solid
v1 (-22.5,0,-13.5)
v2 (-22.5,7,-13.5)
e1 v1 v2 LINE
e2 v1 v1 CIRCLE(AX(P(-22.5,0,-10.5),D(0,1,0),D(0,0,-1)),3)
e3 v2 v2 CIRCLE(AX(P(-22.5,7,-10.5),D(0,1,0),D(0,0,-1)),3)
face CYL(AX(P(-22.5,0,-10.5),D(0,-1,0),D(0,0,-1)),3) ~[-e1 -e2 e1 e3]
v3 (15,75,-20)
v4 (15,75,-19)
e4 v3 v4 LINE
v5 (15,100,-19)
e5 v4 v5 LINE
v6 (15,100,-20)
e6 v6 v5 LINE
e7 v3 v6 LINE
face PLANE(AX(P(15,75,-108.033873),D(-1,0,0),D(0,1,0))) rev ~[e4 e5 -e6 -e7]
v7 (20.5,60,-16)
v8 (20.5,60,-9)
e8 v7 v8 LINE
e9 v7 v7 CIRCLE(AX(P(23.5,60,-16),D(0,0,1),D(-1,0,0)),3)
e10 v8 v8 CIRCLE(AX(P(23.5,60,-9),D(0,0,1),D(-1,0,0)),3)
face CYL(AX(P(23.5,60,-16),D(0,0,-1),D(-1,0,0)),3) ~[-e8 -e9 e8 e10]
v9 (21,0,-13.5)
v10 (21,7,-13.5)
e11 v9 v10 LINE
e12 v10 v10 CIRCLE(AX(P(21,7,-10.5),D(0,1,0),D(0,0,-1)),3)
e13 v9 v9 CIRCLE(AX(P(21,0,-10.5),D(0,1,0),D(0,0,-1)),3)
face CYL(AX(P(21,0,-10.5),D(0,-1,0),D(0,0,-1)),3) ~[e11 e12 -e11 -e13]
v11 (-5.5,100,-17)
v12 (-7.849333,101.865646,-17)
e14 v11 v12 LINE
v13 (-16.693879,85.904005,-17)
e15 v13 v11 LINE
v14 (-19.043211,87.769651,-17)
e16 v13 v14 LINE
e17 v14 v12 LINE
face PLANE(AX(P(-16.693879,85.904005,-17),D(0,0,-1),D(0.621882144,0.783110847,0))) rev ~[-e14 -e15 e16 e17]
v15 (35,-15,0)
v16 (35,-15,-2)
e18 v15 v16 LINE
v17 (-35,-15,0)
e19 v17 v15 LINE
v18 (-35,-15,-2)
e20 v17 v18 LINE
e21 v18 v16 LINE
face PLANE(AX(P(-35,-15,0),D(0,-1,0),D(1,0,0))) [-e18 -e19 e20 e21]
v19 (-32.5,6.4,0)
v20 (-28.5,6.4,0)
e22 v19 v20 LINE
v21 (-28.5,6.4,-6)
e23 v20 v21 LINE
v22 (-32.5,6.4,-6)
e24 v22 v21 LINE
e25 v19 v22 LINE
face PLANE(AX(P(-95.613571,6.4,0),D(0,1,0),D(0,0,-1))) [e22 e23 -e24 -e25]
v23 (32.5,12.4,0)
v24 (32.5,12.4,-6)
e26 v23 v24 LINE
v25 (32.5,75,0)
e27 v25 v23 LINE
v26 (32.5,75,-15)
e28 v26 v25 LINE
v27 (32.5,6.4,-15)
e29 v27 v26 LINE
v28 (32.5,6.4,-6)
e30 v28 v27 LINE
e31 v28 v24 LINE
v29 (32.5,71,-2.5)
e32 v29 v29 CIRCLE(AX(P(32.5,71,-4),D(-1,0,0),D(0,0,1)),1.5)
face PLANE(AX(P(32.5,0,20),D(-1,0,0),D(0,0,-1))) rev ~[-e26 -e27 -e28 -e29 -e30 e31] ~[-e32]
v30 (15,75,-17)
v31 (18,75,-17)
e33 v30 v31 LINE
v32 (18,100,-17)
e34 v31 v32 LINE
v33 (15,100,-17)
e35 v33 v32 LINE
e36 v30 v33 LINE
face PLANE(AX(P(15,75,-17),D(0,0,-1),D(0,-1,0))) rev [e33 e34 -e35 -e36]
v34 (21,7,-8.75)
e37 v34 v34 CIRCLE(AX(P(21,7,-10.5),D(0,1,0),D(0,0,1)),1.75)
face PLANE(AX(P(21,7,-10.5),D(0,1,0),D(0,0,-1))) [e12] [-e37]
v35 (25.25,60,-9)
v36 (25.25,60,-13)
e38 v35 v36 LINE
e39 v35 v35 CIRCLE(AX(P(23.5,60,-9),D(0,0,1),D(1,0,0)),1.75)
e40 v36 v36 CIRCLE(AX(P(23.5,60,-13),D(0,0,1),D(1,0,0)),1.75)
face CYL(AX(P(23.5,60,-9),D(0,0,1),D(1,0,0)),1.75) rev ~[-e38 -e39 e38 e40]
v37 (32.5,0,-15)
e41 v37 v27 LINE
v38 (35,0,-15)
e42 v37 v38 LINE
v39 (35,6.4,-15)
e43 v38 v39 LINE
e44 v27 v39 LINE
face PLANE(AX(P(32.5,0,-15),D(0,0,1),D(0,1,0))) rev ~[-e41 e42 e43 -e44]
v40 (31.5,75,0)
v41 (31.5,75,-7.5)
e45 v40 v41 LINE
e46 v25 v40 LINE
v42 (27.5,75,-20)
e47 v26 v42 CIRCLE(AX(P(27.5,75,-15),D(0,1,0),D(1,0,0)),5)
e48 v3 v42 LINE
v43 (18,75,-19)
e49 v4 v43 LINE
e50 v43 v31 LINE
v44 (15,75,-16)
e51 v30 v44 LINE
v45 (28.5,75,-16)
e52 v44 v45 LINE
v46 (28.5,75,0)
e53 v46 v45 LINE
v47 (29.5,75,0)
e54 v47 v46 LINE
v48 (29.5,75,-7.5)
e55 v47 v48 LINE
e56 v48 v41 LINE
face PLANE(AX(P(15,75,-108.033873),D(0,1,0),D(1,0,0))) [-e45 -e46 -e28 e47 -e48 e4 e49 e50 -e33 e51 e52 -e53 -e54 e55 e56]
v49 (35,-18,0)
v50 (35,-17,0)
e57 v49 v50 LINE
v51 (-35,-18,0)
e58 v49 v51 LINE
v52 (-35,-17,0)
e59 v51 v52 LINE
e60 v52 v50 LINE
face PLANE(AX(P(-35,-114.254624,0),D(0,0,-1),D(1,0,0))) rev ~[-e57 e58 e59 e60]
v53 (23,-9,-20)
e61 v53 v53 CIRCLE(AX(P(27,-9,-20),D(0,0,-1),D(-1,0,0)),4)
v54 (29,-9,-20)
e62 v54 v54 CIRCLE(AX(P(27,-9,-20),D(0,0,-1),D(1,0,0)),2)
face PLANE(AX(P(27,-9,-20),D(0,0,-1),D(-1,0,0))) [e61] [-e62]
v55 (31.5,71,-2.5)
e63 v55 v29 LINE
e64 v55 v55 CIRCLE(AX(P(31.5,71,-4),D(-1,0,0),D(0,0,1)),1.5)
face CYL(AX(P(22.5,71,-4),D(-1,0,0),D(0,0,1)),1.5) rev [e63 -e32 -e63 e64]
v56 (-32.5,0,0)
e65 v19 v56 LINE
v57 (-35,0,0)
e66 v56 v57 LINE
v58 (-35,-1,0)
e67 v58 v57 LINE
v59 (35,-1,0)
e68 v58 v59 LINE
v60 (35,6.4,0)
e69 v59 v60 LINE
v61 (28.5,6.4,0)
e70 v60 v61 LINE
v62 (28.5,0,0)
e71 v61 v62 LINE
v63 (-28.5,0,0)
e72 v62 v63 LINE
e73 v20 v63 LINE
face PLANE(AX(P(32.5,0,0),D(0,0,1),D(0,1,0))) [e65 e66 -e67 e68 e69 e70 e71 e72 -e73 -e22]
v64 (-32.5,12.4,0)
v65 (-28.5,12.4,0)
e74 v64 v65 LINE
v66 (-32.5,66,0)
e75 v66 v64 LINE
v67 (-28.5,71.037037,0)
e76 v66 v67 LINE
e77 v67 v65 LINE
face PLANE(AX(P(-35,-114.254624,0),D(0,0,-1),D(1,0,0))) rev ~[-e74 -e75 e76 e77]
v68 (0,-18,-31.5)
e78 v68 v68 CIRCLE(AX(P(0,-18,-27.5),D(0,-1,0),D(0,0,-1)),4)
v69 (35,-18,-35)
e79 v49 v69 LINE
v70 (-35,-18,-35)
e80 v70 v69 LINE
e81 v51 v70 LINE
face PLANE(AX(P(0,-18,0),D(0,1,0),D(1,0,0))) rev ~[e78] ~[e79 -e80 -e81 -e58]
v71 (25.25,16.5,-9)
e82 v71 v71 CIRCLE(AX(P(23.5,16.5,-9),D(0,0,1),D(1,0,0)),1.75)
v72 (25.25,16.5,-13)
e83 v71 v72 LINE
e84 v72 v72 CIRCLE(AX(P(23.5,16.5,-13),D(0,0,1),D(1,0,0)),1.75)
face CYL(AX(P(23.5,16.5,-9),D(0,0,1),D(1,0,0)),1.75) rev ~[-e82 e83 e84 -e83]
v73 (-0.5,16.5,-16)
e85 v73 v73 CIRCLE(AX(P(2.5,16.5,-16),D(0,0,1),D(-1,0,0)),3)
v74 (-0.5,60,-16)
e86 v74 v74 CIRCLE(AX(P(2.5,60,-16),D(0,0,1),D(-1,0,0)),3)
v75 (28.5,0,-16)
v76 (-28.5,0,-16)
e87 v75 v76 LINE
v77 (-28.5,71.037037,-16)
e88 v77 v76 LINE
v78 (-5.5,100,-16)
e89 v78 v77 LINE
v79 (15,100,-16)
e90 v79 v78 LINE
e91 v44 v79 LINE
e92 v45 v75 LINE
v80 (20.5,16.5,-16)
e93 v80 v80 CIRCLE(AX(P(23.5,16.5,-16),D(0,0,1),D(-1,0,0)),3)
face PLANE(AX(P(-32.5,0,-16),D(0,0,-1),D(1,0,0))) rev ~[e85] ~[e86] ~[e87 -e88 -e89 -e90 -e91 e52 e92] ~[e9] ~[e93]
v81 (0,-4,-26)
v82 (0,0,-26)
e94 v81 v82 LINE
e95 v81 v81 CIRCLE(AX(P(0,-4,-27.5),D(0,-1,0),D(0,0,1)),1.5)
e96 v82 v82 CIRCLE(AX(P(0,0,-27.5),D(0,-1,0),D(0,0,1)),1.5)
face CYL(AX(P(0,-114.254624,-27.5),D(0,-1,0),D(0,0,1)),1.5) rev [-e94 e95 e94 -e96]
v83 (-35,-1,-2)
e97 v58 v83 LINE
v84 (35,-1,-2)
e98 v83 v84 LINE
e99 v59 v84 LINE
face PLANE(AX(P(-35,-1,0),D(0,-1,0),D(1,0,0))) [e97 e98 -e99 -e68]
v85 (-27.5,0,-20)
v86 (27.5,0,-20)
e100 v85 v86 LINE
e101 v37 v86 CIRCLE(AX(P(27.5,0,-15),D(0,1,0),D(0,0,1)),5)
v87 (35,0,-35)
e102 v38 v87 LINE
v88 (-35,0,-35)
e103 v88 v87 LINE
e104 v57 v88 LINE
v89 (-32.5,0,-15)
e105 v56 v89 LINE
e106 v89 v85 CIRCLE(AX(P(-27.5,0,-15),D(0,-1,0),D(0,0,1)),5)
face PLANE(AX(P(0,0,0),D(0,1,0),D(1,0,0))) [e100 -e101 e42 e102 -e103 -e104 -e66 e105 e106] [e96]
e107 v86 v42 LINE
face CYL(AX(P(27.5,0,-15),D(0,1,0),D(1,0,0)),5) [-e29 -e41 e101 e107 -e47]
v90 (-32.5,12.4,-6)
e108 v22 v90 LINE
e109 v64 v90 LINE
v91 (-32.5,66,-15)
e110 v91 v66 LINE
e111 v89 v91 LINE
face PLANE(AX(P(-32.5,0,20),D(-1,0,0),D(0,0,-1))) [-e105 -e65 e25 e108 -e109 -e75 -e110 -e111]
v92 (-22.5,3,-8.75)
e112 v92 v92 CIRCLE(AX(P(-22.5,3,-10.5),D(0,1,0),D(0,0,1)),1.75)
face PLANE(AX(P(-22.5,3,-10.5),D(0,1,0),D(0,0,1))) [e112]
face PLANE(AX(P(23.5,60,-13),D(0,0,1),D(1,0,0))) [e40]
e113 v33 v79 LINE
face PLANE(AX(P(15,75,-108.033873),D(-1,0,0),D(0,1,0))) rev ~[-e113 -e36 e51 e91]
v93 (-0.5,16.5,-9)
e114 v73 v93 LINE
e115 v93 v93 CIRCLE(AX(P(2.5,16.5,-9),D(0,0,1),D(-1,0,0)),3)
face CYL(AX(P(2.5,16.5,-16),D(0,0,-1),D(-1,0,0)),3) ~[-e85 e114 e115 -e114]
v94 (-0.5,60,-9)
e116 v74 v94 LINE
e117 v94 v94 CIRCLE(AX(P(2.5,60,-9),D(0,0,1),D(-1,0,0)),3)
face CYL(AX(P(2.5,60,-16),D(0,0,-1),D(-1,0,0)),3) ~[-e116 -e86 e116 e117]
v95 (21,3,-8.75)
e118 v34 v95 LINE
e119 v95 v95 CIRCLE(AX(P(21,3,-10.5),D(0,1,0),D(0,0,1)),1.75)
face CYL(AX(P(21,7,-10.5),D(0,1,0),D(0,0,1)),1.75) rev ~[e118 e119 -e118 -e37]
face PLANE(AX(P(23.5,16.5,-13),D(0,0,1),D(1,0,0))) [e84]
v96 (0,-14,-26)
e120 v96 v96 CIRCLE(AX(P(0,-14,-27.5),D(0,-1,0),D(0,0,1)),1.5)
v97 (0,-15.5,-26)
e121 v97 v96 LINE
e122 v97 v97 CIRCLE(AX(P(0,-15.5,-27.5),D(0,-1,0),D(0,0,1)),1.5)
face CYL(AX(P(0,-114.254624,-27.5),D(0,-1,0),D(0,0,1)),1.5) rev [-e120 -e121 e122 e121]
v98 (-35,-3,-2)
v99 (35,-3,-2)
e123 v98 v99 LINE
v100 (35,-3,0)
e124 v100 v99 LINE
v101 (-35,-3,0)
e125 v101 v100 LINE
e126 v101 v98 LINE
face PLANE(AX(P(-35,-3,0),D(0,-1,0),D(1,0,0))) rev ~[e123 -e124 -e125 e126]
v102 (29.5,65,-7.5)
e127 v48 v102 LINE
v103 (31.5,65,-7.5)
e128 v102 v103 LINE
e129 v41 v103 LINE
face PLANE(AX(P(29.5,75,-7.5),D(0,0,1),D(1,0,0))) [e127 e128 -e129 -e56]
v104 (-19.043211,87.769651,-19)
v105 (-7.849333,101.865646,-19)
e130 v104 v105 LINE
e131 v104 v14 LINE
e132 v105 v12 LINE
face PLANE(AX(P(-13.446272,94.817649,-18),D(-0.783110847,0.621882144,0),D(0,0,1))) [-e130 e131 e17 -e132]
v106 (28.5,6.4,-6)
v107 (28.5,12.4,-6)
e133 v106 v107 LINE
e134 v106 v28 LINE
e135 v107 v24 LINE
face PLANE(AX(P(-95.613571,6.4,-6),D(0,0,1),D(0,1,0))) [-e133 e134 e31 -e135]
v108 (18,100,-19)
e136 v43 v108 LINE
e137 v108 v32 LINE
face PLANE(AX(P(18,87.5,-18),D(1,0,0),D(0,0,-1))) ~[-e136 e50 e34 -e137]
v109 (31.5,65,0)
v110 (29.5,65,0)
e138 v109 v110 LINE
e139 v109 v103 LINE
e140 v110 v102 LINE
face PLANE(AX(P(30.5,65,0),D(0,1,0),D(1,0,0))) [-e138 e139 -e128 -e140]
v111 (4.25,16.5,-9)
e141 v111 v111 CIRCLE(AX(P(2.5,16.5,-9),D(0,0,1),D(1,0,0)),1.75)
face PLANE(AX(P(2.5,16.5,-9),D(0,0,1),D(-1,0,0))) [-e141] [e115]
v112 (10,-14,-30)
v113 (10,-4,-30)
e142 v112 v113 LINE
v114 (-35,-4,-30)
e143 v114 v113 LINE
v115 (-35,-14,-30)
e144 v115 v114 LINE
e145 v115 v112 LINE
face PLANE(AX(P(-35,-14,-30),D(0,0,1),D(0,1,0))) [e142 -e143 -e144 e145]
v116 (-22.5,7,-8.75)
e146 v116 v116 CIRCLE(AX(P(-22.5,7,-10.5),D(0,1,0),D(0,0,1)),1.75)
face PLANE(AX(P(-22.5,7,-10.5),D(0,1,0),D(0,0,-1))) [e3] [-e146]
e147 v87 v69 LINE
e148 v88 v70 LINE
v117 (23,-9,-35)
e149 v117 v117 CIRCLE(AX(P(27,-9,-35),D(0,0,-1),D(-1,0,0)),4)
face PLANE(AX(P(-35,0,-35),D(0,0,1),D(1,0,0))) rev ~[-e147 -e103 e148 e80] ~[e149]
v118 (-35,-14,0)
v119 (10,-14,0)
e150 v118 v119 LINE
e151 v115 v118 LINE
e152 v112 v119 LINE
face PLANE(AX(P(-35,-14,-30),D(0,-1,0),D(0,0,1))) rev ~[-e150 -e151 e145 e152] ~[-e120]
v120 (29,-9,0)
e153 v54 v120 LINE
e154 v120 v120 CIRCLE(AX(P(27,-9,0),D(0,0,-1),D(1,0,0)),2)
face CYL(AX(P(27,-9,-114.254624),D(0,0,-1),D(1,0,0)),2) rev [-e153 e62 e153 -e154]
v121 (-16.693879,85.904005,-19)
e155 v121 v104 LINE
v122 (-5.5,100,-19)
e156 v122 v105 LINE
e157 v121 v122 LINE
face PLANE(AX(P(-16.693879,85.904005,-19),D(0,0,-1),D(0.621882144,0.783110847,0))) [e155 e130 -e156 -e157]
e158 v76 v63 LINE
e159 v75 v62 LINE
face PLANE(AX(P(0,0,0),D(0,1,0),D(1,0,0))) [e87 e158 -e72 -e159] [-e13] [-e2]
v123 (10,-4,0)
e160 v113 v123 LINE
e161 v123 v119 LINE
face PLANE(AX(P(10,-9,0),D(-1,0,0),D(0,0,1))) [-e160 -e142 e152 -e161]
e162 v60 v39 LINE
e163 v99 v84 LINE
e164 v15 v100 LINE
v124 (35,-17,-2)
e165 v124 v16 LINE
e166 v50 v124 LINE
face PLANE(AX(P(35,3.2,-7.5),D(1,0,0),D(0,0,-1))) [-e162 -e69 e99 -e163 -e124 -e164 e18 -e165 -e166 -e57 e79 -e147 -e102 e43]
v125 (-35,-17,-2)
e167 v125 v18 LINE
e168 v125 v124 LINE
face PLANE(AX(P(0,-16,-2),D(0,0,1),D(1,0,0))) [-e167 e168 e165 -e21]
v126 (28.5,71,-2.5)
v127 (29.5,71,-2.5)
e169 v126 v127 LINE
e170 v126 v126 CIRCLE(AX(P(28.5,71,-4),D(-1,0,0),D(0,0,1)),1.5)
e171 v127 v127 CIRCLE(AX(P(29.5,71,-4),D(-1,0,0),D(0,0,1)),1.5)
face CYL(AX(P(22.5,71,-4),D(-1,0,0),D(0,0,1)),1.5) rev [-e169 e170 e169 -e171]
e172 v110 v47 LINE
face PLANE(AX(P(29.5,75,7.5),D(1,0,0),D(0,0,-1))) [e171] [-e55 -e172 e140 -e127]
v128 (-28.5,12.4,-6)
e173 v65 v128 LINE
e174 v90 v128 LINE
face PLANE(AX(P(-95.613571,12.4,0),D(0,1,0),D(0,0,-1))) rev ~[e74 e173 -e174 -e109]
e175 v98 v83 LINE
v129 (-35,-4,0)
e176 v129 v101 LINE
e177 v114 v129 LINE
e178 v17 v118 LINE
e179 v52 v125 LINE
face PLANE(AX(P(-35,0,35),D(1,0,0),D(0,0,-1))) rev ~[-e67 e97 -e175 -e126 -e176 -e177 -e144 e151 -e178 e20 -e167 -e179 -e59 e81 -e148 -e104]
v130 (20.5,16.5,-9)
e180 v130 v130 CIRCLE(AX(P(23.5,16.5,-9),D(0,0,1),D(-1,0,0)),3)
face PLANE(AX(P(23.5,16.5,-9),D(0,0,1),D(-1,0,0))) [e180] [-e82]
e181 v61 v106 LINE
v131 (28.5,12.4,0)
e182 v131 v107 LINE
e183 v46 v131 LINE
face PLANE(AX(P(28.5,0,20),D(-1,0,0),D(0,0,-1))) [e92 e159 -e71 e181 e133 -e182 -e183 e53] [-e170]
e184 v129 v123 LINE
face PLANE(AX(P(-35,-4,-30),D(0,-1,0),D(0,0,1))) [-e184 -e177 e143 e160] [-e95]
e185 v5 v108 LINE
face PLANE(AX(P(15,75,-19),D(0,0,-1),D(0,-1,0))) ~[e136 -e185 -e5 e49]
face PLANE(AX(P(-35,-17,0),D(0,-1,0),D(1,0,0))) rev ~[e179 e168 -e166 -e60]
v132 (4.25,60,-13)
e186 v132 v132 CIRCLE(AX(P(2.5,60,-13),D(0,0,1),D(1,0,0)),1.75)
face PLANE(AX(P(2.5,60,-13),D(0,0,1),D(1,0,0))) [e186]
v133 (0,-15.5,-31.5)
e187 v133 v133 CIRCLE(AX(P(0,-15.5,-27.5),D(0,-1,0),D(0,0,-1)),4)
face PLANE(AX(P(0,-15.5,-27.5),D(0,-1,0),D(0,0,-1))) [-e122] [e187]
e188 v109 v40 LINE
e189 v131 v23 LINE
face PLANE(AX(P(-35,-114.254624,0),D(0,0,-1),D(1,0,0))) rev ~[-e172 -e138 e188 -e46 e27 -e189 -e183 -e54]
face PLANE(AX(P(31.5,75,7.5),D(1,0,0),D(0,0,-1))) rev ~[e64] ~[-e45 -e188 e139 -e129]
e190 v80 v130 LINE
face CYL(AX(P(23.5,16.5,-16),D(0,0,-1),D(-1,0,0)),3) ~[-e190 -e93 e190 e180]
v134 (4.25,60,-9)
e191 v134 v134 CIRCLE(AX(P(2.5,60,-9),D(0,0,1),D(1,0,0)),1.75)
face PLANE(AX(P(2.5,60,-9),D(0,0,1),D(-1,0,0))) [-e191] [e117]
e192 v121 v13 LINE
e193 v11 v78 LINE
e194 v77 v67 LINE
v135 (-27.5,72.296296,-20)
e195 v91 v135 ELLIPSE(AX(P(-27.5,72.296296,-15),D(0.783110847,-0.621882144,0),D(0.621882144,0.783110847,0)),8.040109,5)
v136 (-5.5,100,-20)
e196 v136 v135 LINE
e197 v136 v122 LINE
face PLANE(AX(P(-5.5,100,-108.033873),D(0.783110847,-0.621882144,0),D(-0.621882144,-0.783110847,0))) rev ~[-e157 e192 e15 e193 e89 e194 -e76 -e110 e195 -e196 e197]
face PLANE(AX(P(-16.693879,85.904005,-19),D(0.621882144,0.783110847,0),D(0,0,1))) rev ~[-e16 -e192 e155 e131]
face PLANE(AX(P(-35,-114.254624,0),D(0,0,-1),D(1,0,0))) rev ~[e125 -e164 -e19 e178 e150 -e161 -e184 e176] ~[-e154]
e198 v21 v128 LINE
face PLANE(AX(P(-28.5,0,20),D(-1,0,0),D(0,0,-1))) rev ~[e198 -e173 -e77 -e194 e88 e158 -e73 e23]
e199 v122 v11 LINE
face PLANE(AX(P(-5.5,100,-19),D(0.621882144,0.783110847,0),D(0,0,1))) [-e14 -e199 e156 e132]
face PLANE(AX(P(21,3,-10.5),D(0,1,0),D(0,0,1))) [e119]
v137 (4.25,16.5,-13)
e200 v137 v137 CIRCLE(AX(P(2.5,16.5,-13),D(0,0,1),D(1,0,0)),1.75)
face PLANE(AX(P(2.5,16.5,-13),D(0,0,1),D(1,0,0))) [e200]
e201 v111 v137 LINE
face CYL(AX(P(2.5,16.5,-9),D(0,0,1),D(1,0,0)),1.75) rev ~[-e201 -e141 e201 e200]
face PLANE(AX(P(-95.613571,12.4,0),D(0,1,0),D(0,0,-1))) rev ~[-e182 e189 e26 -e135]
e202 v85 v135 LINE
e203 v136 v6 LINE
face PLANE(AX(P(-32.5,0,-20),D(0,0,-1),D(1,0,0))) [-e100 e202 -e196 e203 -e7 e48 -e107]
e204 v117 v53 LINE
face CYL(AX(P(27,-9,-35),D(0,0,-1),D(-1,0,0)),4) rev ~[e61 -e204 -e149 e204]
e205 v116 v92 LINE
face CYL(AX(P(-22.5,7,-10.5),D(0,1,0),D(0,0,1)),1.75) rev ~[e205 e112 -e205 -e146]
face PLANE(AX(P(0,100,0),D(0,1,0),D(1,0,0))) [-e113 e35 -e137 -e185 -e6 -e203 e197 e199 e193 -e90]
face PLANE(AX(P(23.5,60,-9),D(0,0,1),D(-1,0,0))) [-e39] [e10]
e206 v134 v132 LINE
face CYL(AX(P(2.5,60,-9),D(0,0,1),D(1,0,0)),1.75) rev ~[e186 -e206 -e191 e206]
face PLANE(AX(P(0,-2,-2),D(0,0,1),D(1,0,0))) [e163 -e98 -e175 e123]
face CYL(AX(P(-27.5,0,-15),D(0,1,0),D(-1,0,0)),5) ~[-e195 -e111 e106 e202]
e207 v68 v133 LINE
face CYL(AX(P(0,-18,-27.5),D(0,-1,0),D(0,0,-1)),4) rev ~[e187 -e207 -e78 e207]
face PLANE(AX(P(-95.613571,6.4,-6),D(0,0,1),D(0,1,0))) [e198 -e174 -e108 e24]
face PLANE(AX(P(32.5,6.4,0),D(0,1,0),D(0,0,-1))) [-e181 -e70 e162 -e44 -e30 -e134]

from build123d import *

# Parameters (mm, degrees)
SKETCH1_W                 = 65
SKETCH1_H                 = 40
BOSS_EXTRUDE1_DEPTH       = 100
SHELL1_T                  = -4
FILLET1_R                 = 5
CUT_EXTRUDE1_DEPTH        = 108.033873143
CUT_EXTRUDE1_DEPTH_BACK   = 108.033873143
CUT_EXTRUDE2_DEPTH        = 108.033873143
CUT_EXTRUDE2_DEPTH_BACK   = 108.033873143
SKETCH3_W                 = 17.5
SKETCH3_H                 = 25
SKETCH5_W                 = 2
SKETCH5_H                 = 25
BOSS_EXTRUDE2_DEPTH       = 3
SKETCH6_W                 = 2
SKETCH6_H                 = 18
BOSS_EXTRUDE3_DEPTH       = 3
SKETCH8_W                 = 70
SKETCH8_H                 = 70
BOSS_EXTRUDE4_DEPTH       = 18
SKETCH10_W                = 60
SKETCH10_H                = 10
CUT_EXTRUDE4_DEPTH        = 45
SKETCH23_W                = 2
SKETCH23_H                = 15
CUT_EXTRUDE10_DEPTH       = 10
CUT_EXTRUDE12_DEPTH       = 114.254624289
CUT_EXTRUDE12_DEPTH_BACK  = 114.254624289
SKETCH27_W                = 70
SKETCH27_H                = 35
SKETCH29_W                = 70
SKETCH29_H                = 2
CUT_EXTRUDE13_DEPTH       = 2
SKETCH30_W                = 70
SKETCH30_H                = 2
CUT_EXTRUDE14_DEPTH       = 2
CUT_EXTRUDE15_DEPTH       = 114.254624289
CUT_EXTRUDE15_DEPTH_BACK  = 114.254624289
SKETCH31_R                = 2
SKETCH33_R                = 4
CUT_EXTRUDE16_DEPTH       = 15
CUT_EXTRUDE17_DEPTH       = 114.254624289
CUT_EXTRUDE17_DEPTH_BACK  = 114.254624289
SKETCH34_R                = 1.5
SKETCH35_R                = 4
CUT_EXTRUDE18_DEPTH       = 2.5
SKETCH39_R                = 3
BOSS_EXTRUDE7_DEPTH       = 7
SKETCH40_R                = 1.75
CUT_EXTRUDE20_DEPTH       = 4
LPATTERN4_COUNT           = 2
LPATTERN4_PITCH           = 43.5
CUT_EXTRUDE21_DEPTH       = 128.113570962
CUT_EXTRUDE21_DEPTH_BACK  = 128.113570962
SKETCH41_W                = 6
SKETCH41_H                = 6
SKETCH42_W                = 15
SKETCH42_H                = 6.4
BOSS_EXTRUDE10_DEPTH      = 2.5
CUT_EXTRUDE22_DEPTH       = 128.113570962
CUT_EXTRUDE22_DEPTH_BACK  = 10
SKETCH43_R                = 1.5
SKETCH37_R                = 3
BOSS_EXTRUDE6_DEPTH       = 7
SKETCH38_R                = 1.75
CUT_EXTRUDE19_DEPTH       = 4
LPATTERN1_COUNT           = 2
LPATTERN1_PITCH           = 21
LPATTERN2_COUNT           = 2
LPATTERN2_PITCH           = 43.5
LPATTERN2_COPY_1_SKETCH_R = 3
LPATTERN2_COPY_1_DEPTH    = 7
LPATTERN2_COPY_2_SKETCH_R = 1.75
LPATTERN2_COPY_2_DEPTH    = 4


with BuildPart() as part:
    # Sketch1 → Boss-Extrude1 (new body)
    with BuildSketch(Plane(origin=(0, 0, 0), x_dir=(1, 0, 0), z_dir=(0, 1, 0))):
        Rectangle(SKETCH1_W, SKETCH1_H)
    extrude(amount=BOSS_EXTRUDE1_DEPTH)

    # Shell1
    shell1_openings = [part.faces().sort_by_distance(p)[0] for p in [
        (0, 100, 0),
        (0, 0, 0),
    ]]
    offset(amount=SHELL1_T, openings=shell1_openings, kind=Kind.INTERSECTION)

    # Fillet1
    fillet1_edges = [part.edges().sort_by_distance(p)[0] for p in [
        (32.5, 50, 20),
        (-32.5, 50, 20),
        (-32.5, 50, -20),
        (32.5, 50, -20),
    ]]
    fillet(fillet1_edges, radius=FILLET1_R)

    # Sketch2 → Cut-Extrude1 (cut, two sides: drawn at the far end of the back side and taken through both)
    with BuildSketch(Plane.XY.offset(-CUT_EXTRUDE1_DEPTH_BACK)):
        Polygon((-5.5, 100), (-32.5, 66), (-32.5, 100), align=None)
    extrude(amount=CUT_EXTRUDE1_DEPTH + CUT_EXTRUDE1_DEPTH_BACK, mode=Mode.SUBTRACT)

    # Sketch3 → Cut-Extrude2 (cut, two sides: drawn at the far end of the back side and taken through both)
    with BuildSketch(Plane.XY.offset(-CUT_EXTRUDE2_DEPTH_BACK)):
        with Locations((23.75, 87.5)):
            Rectangle(SKETCH3_W, SKETCH3_H)
    extrude(amount=CUT_EXTRUDE2_DEPTH + CUT_EXTRUDE2_DEPTH_BACK, mode=Mode.SUBTRACT)

    # Sketch5 → Boss-Extrude2 (add)
    with BuildSketch(Plane(origin=(15, 0, 0), x_dir=(0, 0, -1), z_dir=(1, 0, 0))):
        with Locations((-18, 87.5)):
            Rectangle(SKETCH5_W, SKETCH5_H)
    boss_extrude2 = extrude(amount=BOSS_EXTRUDE2_DEPTH)

    # Mirror1: Boss-Extrude2 across plane
    add(boss_extrude2.mirror(Plane.XY))

    # Sketch6 → Boss-Extrude3 (add)
    with BuildSketch(Plane(origin=(-52.073209549, 41.352254642, 0), x_dir=(0, 0, 1), z_dir=(-0.783110847498294, 0.6218821436015861, 0))):
        with Locations((-18, 65.89073296)):
            Rectangle(SKETCH6_W, SKETCH6_H)
    boss_extrude3 = extrude(amount=BOSS_EXTRUDE3_DEPTH)

    # Mirror2: Boss-Extrude3 across plane
    add(boss_extrude3.mirror(Plane.XY))

    # Sketch8 → Boss-Extrude4 (add)
    with BuildSketch(Plane(origin=(0, 0, 0), x_dir=(1, 0, 0), z_dir=(0, 1, 0))):
        Rectangle(SKETCH8_W, SKETCH8_H)
    extrude(amount=-BOSS_EXTRUDE4_DEPTH)

    # Sketch10 → Cut-Extrude4 (cut)
    with BuildSketch(Plane.ZY.offset(35)):
        with Locations((0, -9)):
            Rectangle(SKETCH10_W, SKETCH10_H)
    extrude(amount=-CUT_EXTRUDE4_DEPTH, mode=Mode.SUBTRACT)

    # Sketch23 → Cut-Extrude10 (cut)
    with BuildSketch(Plane(origin=(0, 75, 0), x_dir=(1, 0, 0), z_dir=(0, 1, 0))):
        with Locations((30.5, 0)):
            Rectangle(SKETCH23_W, SKETCH23_H)
    extrude(amount=-CUT_EXTRUDE10_DEPTH, mode=Mode.SUBTRACT)

    # Sketch27 → Cut-Extrude12 (cut, two sides: drawn at the far end of the back side and taken through both)
    with BuildSketch(Plane(origin=(0, 0, 0), x_dir=(1, 0, 0), z_dir=(0, 1, 0)).offset(-CUT_EXTRUDE12_DEPTH_BACK)):
        with Locations((0, -17.5)):
            Rectangle(SKETCH27_W, SKETCH27_H)
    extrude(amount=CUT_EXTRUDE12_DEPTH + CUT_EXTRUDE12_DEPTH_BACK, mode=Mode.SUBTRACT)

    # Sketch29 → Cut-Extrude13 (cut)
    with BuildSketch(Plane.XY):
        with Locations((0, -2)):
            Rectangle(SKETCH29_W, SKETCH29_H)
    extrude(amount=-CUT_EXTRUDE13_DEPTH, mode=Mode.SUBTRACT)

    # Sketch30 → Cut-Extrude14 (cut)
    with BuildSketch(Plane.XY):
        with Locations((0, -16)):
            Rectangle(SKETCH30_W, SKETCH30_H)
    extrude(amount=-CUT_EXTRUDE14_DEPTH, mode=Mode.SUBTRACT)

    # Sketch31 → Cut-Extrude15 (cut, two sides: drawn at the far end of the back side and taken through both)
    with BuildSketch(Plane.XY.offset(-CUT_EXTRUDE15_DEPTH_BACK)):
        with Locations((27, -9)):
            Circle(SKETCH31_R)
    extrude(amount=CUT_EXTRUDE15_DEPTH + CUT_EXTRUDE15_DEPTH_BACK, mode=Mode.SUBTRACT)

    # Sketch33 → Cut-Extrude16 (cut)
    with BuildSketch(Plane(origin=(0, 0, -35), x_dir=(-1, 0, 0), z_dir=(0, 0, -1))):
        with Locations((-27, -9)):
            Circle(SKETCH33_R)
    extrude(amount=-CUT_EXTRUDE16_DEPTH, mode=Mode.SUBTRACT)

    # Sketch34 → Cut-Extrude17 (cut, two sides: drawn at the far end of the back side and taken through both)
    with BuildSketch(Plane(origin=(0, 0, 0), x_dir=(1, 0, 0), z_dir=(0, 1, 0)).offset(-CUT_EXTRUDE17_DEPTH_BACK)):
        with Locations(Location((0, 27.5, 0), (0, 0, 270))):
            Circle(SKETCH34_R)
    extrude(amount=CUT_EXTRUDE17_DEPTH + CUT_EXTRUDE17_DEPTH_BACK, mode=Mode.SUBTRACT)

    # Sketch35 → Cut-Extrude18 (cut)
    with BuildSketch(Plane(origin=(0, -18, 0), x_dir=(-1, 0, 0), z_dir=(0, -1, 0))):
        with Locations(Location((0, 27.5, 0), (0, 0, 90))):
            Circle(SKETCH35_R)
    extrude(amount=-CUT_EXTRUDE18_DEPTH, mode=Mode.SUBTRACT)

    # Sketch39 → Boss-Extrude7 (add)
    with BuildSketch(Plane(origin=(0, 0, 0), x_dir=(1, 0, 0), z_dir=(0, 1, 0))):
        with Locations(Location((21, 10.5, 0), (0, 0, 90))):
            Circle(SKETCH39_R)
    boss_extrude7 = extrude(amount=BOSS_EXTRUDE7_DEPTH)

    # Sketch40 → Cut-Extrude20 (cut)
    with BuildSketch(Plane(origin=(0, 7, 0), x_dir=(1, 0, 0), z_dir=(0, 1, 0))):
        with Locations(Location((21, 10.5, 0), (0, 0, 270))):
            Circle(SKETCH40_R)
    cut_extrude20 = extrude(amount=-CUT_EXTRUDE20_DEPTH, mode=Mode.SUBTRACT)

    # LPattern4: Boss-Extrude7, Cut-Extrude20 ×2
    with Locations(*[(-i * LPATTERN4_PITCH, 0, 0) for i in range(1, LPATTERN4_COUNT)]):
        add(boss_extrude7)
        add(cut_extrude20, mode=Mode.SUBTRACT)

    # Sketch41 → Cut-Extrude21 (cut, two sides: drawn at the far end of the back side and taken through both)
    with BuildSketch(Plane(origin=(32.5, 0, 0), x_dir=(0, 0, -1), z_dir=(1, 0, 0)).offset(-CUT_EXTRUDE21_DEPTH_BACK)):
        with Locations((3, 9.4)):
            Rectangle(SKETCH41_W, SKETCH41_H)
    extrude(amount=CUT_EXTRUDE21_DEPTH + CUT_EXTRUDE21_DEPTH_BACK, mode=Mode.SUBTRACT)

    # Sketch42 → Boss-Extrude10 (add)
    with BuildSketch(Plane(origin=(32.5, 0, 0), x_dir=(0, 0, -1), z_dir=(1, 0, 0))):
        with Locations((7.5, 3.2)):
            Rectangle(SKETCH42_W, SKETCH42_H)
    extrude(amount=BOSS_EXTRUDE10_DEPTH)

    # Sketch43 → Cut-Extrude22 (cut, two sides: drawn at the far end of the back side and taken through both)
    with BuildSketch(Plane(origin=(32.5, 0, 0), x_dir=(0, 0, -1), z_dir=(1, 0, 0)).offset(-CUT_EXTRUDE22_DEPTH_BACK)):
        with Locations(Location((4, 71, 0), (0, 0, 180))):
            Circle(SKETCH43_R)
    extrude(amount=CUT_EXTRUDE22_DEPTH + CUT_EXTRUDE22_DEPTH_BACK, mode=Mode.SUBTRACT)

    # Sketch37 → Boss-Extrude6 (add)
    with BuildSketch(Plane.XY.offset(-16)):
        with Locations(Location((23.5, 60, 0), (0, 0, 180))):
            Circle(SKETCH37_R)
    boss_extrude6 = extrude(amount=BOSS_EXTRUDE6_DEPTH)

    # Sketch38 → Cut-Extrude19 (cut)
    with BuildSketch(Plane.XY.offset(-9)):
        with Locations((23.5, 60)):
            Circle(SKETCH38_R)
    cut_extrude19 = extrude(amount=-CUT_EXTRUDE19_DEPTH, mode=Mode.SUBTRACT)

    # LPattern1: Boss-Extrude6, Cut-Extrude19 ×2
    with Locations(*[(-i * LPATTERN1_PITCH, 0, 0) for i in range(1, LPATTERN1_COUNT)]):
        add(boss_extrude6)
        add(cut_extrude19, mode=Mode.SUBTRACT)

    # LPattern2: Boss-Extrude6, Cut-Extrude19 ×2
    with Locations(*[(0, -i * LPATTERN2_PITCH, 0) for i in range(1, LPATTERN2_COUNT)]):
        add(boss_extrude6)
        add(cut_extrude19, mode=Mode.SUBTRACT)

    # LPattern2 copy 1 sketch → LPattern2 copy 1 (add)
    with BuildSketch(Plane(origin=(-21, -43.5, -16), x_dir=(1, 0, 0), z_dir=(0, 0, 1))):
        with Locations(Location((23.5, 60, 0), (0, 0, 180))):
            Circle(LPATTERN2_COPY_1_SKETCH_R)
    extrude(amount=LPATTERN2_COPY_1_DEPTH)

    # LPattern2 copy 2 sketch → LPattern2 copy 2 (cut)
    with BuildSketch(Plane(origin=(-21, -43.5, -9), x_dir=(1, 0, 0), z_dir=(0, 0, 1))):
        with Locations((23.5, 60)):
            Circle(LPATTERN2_COPY_2_SKETCH_R)
    extrude(amount=-LPATTERN2_COPY_2_DEPTH, mode=Mode.SUBTRACT)


solid = part.part
